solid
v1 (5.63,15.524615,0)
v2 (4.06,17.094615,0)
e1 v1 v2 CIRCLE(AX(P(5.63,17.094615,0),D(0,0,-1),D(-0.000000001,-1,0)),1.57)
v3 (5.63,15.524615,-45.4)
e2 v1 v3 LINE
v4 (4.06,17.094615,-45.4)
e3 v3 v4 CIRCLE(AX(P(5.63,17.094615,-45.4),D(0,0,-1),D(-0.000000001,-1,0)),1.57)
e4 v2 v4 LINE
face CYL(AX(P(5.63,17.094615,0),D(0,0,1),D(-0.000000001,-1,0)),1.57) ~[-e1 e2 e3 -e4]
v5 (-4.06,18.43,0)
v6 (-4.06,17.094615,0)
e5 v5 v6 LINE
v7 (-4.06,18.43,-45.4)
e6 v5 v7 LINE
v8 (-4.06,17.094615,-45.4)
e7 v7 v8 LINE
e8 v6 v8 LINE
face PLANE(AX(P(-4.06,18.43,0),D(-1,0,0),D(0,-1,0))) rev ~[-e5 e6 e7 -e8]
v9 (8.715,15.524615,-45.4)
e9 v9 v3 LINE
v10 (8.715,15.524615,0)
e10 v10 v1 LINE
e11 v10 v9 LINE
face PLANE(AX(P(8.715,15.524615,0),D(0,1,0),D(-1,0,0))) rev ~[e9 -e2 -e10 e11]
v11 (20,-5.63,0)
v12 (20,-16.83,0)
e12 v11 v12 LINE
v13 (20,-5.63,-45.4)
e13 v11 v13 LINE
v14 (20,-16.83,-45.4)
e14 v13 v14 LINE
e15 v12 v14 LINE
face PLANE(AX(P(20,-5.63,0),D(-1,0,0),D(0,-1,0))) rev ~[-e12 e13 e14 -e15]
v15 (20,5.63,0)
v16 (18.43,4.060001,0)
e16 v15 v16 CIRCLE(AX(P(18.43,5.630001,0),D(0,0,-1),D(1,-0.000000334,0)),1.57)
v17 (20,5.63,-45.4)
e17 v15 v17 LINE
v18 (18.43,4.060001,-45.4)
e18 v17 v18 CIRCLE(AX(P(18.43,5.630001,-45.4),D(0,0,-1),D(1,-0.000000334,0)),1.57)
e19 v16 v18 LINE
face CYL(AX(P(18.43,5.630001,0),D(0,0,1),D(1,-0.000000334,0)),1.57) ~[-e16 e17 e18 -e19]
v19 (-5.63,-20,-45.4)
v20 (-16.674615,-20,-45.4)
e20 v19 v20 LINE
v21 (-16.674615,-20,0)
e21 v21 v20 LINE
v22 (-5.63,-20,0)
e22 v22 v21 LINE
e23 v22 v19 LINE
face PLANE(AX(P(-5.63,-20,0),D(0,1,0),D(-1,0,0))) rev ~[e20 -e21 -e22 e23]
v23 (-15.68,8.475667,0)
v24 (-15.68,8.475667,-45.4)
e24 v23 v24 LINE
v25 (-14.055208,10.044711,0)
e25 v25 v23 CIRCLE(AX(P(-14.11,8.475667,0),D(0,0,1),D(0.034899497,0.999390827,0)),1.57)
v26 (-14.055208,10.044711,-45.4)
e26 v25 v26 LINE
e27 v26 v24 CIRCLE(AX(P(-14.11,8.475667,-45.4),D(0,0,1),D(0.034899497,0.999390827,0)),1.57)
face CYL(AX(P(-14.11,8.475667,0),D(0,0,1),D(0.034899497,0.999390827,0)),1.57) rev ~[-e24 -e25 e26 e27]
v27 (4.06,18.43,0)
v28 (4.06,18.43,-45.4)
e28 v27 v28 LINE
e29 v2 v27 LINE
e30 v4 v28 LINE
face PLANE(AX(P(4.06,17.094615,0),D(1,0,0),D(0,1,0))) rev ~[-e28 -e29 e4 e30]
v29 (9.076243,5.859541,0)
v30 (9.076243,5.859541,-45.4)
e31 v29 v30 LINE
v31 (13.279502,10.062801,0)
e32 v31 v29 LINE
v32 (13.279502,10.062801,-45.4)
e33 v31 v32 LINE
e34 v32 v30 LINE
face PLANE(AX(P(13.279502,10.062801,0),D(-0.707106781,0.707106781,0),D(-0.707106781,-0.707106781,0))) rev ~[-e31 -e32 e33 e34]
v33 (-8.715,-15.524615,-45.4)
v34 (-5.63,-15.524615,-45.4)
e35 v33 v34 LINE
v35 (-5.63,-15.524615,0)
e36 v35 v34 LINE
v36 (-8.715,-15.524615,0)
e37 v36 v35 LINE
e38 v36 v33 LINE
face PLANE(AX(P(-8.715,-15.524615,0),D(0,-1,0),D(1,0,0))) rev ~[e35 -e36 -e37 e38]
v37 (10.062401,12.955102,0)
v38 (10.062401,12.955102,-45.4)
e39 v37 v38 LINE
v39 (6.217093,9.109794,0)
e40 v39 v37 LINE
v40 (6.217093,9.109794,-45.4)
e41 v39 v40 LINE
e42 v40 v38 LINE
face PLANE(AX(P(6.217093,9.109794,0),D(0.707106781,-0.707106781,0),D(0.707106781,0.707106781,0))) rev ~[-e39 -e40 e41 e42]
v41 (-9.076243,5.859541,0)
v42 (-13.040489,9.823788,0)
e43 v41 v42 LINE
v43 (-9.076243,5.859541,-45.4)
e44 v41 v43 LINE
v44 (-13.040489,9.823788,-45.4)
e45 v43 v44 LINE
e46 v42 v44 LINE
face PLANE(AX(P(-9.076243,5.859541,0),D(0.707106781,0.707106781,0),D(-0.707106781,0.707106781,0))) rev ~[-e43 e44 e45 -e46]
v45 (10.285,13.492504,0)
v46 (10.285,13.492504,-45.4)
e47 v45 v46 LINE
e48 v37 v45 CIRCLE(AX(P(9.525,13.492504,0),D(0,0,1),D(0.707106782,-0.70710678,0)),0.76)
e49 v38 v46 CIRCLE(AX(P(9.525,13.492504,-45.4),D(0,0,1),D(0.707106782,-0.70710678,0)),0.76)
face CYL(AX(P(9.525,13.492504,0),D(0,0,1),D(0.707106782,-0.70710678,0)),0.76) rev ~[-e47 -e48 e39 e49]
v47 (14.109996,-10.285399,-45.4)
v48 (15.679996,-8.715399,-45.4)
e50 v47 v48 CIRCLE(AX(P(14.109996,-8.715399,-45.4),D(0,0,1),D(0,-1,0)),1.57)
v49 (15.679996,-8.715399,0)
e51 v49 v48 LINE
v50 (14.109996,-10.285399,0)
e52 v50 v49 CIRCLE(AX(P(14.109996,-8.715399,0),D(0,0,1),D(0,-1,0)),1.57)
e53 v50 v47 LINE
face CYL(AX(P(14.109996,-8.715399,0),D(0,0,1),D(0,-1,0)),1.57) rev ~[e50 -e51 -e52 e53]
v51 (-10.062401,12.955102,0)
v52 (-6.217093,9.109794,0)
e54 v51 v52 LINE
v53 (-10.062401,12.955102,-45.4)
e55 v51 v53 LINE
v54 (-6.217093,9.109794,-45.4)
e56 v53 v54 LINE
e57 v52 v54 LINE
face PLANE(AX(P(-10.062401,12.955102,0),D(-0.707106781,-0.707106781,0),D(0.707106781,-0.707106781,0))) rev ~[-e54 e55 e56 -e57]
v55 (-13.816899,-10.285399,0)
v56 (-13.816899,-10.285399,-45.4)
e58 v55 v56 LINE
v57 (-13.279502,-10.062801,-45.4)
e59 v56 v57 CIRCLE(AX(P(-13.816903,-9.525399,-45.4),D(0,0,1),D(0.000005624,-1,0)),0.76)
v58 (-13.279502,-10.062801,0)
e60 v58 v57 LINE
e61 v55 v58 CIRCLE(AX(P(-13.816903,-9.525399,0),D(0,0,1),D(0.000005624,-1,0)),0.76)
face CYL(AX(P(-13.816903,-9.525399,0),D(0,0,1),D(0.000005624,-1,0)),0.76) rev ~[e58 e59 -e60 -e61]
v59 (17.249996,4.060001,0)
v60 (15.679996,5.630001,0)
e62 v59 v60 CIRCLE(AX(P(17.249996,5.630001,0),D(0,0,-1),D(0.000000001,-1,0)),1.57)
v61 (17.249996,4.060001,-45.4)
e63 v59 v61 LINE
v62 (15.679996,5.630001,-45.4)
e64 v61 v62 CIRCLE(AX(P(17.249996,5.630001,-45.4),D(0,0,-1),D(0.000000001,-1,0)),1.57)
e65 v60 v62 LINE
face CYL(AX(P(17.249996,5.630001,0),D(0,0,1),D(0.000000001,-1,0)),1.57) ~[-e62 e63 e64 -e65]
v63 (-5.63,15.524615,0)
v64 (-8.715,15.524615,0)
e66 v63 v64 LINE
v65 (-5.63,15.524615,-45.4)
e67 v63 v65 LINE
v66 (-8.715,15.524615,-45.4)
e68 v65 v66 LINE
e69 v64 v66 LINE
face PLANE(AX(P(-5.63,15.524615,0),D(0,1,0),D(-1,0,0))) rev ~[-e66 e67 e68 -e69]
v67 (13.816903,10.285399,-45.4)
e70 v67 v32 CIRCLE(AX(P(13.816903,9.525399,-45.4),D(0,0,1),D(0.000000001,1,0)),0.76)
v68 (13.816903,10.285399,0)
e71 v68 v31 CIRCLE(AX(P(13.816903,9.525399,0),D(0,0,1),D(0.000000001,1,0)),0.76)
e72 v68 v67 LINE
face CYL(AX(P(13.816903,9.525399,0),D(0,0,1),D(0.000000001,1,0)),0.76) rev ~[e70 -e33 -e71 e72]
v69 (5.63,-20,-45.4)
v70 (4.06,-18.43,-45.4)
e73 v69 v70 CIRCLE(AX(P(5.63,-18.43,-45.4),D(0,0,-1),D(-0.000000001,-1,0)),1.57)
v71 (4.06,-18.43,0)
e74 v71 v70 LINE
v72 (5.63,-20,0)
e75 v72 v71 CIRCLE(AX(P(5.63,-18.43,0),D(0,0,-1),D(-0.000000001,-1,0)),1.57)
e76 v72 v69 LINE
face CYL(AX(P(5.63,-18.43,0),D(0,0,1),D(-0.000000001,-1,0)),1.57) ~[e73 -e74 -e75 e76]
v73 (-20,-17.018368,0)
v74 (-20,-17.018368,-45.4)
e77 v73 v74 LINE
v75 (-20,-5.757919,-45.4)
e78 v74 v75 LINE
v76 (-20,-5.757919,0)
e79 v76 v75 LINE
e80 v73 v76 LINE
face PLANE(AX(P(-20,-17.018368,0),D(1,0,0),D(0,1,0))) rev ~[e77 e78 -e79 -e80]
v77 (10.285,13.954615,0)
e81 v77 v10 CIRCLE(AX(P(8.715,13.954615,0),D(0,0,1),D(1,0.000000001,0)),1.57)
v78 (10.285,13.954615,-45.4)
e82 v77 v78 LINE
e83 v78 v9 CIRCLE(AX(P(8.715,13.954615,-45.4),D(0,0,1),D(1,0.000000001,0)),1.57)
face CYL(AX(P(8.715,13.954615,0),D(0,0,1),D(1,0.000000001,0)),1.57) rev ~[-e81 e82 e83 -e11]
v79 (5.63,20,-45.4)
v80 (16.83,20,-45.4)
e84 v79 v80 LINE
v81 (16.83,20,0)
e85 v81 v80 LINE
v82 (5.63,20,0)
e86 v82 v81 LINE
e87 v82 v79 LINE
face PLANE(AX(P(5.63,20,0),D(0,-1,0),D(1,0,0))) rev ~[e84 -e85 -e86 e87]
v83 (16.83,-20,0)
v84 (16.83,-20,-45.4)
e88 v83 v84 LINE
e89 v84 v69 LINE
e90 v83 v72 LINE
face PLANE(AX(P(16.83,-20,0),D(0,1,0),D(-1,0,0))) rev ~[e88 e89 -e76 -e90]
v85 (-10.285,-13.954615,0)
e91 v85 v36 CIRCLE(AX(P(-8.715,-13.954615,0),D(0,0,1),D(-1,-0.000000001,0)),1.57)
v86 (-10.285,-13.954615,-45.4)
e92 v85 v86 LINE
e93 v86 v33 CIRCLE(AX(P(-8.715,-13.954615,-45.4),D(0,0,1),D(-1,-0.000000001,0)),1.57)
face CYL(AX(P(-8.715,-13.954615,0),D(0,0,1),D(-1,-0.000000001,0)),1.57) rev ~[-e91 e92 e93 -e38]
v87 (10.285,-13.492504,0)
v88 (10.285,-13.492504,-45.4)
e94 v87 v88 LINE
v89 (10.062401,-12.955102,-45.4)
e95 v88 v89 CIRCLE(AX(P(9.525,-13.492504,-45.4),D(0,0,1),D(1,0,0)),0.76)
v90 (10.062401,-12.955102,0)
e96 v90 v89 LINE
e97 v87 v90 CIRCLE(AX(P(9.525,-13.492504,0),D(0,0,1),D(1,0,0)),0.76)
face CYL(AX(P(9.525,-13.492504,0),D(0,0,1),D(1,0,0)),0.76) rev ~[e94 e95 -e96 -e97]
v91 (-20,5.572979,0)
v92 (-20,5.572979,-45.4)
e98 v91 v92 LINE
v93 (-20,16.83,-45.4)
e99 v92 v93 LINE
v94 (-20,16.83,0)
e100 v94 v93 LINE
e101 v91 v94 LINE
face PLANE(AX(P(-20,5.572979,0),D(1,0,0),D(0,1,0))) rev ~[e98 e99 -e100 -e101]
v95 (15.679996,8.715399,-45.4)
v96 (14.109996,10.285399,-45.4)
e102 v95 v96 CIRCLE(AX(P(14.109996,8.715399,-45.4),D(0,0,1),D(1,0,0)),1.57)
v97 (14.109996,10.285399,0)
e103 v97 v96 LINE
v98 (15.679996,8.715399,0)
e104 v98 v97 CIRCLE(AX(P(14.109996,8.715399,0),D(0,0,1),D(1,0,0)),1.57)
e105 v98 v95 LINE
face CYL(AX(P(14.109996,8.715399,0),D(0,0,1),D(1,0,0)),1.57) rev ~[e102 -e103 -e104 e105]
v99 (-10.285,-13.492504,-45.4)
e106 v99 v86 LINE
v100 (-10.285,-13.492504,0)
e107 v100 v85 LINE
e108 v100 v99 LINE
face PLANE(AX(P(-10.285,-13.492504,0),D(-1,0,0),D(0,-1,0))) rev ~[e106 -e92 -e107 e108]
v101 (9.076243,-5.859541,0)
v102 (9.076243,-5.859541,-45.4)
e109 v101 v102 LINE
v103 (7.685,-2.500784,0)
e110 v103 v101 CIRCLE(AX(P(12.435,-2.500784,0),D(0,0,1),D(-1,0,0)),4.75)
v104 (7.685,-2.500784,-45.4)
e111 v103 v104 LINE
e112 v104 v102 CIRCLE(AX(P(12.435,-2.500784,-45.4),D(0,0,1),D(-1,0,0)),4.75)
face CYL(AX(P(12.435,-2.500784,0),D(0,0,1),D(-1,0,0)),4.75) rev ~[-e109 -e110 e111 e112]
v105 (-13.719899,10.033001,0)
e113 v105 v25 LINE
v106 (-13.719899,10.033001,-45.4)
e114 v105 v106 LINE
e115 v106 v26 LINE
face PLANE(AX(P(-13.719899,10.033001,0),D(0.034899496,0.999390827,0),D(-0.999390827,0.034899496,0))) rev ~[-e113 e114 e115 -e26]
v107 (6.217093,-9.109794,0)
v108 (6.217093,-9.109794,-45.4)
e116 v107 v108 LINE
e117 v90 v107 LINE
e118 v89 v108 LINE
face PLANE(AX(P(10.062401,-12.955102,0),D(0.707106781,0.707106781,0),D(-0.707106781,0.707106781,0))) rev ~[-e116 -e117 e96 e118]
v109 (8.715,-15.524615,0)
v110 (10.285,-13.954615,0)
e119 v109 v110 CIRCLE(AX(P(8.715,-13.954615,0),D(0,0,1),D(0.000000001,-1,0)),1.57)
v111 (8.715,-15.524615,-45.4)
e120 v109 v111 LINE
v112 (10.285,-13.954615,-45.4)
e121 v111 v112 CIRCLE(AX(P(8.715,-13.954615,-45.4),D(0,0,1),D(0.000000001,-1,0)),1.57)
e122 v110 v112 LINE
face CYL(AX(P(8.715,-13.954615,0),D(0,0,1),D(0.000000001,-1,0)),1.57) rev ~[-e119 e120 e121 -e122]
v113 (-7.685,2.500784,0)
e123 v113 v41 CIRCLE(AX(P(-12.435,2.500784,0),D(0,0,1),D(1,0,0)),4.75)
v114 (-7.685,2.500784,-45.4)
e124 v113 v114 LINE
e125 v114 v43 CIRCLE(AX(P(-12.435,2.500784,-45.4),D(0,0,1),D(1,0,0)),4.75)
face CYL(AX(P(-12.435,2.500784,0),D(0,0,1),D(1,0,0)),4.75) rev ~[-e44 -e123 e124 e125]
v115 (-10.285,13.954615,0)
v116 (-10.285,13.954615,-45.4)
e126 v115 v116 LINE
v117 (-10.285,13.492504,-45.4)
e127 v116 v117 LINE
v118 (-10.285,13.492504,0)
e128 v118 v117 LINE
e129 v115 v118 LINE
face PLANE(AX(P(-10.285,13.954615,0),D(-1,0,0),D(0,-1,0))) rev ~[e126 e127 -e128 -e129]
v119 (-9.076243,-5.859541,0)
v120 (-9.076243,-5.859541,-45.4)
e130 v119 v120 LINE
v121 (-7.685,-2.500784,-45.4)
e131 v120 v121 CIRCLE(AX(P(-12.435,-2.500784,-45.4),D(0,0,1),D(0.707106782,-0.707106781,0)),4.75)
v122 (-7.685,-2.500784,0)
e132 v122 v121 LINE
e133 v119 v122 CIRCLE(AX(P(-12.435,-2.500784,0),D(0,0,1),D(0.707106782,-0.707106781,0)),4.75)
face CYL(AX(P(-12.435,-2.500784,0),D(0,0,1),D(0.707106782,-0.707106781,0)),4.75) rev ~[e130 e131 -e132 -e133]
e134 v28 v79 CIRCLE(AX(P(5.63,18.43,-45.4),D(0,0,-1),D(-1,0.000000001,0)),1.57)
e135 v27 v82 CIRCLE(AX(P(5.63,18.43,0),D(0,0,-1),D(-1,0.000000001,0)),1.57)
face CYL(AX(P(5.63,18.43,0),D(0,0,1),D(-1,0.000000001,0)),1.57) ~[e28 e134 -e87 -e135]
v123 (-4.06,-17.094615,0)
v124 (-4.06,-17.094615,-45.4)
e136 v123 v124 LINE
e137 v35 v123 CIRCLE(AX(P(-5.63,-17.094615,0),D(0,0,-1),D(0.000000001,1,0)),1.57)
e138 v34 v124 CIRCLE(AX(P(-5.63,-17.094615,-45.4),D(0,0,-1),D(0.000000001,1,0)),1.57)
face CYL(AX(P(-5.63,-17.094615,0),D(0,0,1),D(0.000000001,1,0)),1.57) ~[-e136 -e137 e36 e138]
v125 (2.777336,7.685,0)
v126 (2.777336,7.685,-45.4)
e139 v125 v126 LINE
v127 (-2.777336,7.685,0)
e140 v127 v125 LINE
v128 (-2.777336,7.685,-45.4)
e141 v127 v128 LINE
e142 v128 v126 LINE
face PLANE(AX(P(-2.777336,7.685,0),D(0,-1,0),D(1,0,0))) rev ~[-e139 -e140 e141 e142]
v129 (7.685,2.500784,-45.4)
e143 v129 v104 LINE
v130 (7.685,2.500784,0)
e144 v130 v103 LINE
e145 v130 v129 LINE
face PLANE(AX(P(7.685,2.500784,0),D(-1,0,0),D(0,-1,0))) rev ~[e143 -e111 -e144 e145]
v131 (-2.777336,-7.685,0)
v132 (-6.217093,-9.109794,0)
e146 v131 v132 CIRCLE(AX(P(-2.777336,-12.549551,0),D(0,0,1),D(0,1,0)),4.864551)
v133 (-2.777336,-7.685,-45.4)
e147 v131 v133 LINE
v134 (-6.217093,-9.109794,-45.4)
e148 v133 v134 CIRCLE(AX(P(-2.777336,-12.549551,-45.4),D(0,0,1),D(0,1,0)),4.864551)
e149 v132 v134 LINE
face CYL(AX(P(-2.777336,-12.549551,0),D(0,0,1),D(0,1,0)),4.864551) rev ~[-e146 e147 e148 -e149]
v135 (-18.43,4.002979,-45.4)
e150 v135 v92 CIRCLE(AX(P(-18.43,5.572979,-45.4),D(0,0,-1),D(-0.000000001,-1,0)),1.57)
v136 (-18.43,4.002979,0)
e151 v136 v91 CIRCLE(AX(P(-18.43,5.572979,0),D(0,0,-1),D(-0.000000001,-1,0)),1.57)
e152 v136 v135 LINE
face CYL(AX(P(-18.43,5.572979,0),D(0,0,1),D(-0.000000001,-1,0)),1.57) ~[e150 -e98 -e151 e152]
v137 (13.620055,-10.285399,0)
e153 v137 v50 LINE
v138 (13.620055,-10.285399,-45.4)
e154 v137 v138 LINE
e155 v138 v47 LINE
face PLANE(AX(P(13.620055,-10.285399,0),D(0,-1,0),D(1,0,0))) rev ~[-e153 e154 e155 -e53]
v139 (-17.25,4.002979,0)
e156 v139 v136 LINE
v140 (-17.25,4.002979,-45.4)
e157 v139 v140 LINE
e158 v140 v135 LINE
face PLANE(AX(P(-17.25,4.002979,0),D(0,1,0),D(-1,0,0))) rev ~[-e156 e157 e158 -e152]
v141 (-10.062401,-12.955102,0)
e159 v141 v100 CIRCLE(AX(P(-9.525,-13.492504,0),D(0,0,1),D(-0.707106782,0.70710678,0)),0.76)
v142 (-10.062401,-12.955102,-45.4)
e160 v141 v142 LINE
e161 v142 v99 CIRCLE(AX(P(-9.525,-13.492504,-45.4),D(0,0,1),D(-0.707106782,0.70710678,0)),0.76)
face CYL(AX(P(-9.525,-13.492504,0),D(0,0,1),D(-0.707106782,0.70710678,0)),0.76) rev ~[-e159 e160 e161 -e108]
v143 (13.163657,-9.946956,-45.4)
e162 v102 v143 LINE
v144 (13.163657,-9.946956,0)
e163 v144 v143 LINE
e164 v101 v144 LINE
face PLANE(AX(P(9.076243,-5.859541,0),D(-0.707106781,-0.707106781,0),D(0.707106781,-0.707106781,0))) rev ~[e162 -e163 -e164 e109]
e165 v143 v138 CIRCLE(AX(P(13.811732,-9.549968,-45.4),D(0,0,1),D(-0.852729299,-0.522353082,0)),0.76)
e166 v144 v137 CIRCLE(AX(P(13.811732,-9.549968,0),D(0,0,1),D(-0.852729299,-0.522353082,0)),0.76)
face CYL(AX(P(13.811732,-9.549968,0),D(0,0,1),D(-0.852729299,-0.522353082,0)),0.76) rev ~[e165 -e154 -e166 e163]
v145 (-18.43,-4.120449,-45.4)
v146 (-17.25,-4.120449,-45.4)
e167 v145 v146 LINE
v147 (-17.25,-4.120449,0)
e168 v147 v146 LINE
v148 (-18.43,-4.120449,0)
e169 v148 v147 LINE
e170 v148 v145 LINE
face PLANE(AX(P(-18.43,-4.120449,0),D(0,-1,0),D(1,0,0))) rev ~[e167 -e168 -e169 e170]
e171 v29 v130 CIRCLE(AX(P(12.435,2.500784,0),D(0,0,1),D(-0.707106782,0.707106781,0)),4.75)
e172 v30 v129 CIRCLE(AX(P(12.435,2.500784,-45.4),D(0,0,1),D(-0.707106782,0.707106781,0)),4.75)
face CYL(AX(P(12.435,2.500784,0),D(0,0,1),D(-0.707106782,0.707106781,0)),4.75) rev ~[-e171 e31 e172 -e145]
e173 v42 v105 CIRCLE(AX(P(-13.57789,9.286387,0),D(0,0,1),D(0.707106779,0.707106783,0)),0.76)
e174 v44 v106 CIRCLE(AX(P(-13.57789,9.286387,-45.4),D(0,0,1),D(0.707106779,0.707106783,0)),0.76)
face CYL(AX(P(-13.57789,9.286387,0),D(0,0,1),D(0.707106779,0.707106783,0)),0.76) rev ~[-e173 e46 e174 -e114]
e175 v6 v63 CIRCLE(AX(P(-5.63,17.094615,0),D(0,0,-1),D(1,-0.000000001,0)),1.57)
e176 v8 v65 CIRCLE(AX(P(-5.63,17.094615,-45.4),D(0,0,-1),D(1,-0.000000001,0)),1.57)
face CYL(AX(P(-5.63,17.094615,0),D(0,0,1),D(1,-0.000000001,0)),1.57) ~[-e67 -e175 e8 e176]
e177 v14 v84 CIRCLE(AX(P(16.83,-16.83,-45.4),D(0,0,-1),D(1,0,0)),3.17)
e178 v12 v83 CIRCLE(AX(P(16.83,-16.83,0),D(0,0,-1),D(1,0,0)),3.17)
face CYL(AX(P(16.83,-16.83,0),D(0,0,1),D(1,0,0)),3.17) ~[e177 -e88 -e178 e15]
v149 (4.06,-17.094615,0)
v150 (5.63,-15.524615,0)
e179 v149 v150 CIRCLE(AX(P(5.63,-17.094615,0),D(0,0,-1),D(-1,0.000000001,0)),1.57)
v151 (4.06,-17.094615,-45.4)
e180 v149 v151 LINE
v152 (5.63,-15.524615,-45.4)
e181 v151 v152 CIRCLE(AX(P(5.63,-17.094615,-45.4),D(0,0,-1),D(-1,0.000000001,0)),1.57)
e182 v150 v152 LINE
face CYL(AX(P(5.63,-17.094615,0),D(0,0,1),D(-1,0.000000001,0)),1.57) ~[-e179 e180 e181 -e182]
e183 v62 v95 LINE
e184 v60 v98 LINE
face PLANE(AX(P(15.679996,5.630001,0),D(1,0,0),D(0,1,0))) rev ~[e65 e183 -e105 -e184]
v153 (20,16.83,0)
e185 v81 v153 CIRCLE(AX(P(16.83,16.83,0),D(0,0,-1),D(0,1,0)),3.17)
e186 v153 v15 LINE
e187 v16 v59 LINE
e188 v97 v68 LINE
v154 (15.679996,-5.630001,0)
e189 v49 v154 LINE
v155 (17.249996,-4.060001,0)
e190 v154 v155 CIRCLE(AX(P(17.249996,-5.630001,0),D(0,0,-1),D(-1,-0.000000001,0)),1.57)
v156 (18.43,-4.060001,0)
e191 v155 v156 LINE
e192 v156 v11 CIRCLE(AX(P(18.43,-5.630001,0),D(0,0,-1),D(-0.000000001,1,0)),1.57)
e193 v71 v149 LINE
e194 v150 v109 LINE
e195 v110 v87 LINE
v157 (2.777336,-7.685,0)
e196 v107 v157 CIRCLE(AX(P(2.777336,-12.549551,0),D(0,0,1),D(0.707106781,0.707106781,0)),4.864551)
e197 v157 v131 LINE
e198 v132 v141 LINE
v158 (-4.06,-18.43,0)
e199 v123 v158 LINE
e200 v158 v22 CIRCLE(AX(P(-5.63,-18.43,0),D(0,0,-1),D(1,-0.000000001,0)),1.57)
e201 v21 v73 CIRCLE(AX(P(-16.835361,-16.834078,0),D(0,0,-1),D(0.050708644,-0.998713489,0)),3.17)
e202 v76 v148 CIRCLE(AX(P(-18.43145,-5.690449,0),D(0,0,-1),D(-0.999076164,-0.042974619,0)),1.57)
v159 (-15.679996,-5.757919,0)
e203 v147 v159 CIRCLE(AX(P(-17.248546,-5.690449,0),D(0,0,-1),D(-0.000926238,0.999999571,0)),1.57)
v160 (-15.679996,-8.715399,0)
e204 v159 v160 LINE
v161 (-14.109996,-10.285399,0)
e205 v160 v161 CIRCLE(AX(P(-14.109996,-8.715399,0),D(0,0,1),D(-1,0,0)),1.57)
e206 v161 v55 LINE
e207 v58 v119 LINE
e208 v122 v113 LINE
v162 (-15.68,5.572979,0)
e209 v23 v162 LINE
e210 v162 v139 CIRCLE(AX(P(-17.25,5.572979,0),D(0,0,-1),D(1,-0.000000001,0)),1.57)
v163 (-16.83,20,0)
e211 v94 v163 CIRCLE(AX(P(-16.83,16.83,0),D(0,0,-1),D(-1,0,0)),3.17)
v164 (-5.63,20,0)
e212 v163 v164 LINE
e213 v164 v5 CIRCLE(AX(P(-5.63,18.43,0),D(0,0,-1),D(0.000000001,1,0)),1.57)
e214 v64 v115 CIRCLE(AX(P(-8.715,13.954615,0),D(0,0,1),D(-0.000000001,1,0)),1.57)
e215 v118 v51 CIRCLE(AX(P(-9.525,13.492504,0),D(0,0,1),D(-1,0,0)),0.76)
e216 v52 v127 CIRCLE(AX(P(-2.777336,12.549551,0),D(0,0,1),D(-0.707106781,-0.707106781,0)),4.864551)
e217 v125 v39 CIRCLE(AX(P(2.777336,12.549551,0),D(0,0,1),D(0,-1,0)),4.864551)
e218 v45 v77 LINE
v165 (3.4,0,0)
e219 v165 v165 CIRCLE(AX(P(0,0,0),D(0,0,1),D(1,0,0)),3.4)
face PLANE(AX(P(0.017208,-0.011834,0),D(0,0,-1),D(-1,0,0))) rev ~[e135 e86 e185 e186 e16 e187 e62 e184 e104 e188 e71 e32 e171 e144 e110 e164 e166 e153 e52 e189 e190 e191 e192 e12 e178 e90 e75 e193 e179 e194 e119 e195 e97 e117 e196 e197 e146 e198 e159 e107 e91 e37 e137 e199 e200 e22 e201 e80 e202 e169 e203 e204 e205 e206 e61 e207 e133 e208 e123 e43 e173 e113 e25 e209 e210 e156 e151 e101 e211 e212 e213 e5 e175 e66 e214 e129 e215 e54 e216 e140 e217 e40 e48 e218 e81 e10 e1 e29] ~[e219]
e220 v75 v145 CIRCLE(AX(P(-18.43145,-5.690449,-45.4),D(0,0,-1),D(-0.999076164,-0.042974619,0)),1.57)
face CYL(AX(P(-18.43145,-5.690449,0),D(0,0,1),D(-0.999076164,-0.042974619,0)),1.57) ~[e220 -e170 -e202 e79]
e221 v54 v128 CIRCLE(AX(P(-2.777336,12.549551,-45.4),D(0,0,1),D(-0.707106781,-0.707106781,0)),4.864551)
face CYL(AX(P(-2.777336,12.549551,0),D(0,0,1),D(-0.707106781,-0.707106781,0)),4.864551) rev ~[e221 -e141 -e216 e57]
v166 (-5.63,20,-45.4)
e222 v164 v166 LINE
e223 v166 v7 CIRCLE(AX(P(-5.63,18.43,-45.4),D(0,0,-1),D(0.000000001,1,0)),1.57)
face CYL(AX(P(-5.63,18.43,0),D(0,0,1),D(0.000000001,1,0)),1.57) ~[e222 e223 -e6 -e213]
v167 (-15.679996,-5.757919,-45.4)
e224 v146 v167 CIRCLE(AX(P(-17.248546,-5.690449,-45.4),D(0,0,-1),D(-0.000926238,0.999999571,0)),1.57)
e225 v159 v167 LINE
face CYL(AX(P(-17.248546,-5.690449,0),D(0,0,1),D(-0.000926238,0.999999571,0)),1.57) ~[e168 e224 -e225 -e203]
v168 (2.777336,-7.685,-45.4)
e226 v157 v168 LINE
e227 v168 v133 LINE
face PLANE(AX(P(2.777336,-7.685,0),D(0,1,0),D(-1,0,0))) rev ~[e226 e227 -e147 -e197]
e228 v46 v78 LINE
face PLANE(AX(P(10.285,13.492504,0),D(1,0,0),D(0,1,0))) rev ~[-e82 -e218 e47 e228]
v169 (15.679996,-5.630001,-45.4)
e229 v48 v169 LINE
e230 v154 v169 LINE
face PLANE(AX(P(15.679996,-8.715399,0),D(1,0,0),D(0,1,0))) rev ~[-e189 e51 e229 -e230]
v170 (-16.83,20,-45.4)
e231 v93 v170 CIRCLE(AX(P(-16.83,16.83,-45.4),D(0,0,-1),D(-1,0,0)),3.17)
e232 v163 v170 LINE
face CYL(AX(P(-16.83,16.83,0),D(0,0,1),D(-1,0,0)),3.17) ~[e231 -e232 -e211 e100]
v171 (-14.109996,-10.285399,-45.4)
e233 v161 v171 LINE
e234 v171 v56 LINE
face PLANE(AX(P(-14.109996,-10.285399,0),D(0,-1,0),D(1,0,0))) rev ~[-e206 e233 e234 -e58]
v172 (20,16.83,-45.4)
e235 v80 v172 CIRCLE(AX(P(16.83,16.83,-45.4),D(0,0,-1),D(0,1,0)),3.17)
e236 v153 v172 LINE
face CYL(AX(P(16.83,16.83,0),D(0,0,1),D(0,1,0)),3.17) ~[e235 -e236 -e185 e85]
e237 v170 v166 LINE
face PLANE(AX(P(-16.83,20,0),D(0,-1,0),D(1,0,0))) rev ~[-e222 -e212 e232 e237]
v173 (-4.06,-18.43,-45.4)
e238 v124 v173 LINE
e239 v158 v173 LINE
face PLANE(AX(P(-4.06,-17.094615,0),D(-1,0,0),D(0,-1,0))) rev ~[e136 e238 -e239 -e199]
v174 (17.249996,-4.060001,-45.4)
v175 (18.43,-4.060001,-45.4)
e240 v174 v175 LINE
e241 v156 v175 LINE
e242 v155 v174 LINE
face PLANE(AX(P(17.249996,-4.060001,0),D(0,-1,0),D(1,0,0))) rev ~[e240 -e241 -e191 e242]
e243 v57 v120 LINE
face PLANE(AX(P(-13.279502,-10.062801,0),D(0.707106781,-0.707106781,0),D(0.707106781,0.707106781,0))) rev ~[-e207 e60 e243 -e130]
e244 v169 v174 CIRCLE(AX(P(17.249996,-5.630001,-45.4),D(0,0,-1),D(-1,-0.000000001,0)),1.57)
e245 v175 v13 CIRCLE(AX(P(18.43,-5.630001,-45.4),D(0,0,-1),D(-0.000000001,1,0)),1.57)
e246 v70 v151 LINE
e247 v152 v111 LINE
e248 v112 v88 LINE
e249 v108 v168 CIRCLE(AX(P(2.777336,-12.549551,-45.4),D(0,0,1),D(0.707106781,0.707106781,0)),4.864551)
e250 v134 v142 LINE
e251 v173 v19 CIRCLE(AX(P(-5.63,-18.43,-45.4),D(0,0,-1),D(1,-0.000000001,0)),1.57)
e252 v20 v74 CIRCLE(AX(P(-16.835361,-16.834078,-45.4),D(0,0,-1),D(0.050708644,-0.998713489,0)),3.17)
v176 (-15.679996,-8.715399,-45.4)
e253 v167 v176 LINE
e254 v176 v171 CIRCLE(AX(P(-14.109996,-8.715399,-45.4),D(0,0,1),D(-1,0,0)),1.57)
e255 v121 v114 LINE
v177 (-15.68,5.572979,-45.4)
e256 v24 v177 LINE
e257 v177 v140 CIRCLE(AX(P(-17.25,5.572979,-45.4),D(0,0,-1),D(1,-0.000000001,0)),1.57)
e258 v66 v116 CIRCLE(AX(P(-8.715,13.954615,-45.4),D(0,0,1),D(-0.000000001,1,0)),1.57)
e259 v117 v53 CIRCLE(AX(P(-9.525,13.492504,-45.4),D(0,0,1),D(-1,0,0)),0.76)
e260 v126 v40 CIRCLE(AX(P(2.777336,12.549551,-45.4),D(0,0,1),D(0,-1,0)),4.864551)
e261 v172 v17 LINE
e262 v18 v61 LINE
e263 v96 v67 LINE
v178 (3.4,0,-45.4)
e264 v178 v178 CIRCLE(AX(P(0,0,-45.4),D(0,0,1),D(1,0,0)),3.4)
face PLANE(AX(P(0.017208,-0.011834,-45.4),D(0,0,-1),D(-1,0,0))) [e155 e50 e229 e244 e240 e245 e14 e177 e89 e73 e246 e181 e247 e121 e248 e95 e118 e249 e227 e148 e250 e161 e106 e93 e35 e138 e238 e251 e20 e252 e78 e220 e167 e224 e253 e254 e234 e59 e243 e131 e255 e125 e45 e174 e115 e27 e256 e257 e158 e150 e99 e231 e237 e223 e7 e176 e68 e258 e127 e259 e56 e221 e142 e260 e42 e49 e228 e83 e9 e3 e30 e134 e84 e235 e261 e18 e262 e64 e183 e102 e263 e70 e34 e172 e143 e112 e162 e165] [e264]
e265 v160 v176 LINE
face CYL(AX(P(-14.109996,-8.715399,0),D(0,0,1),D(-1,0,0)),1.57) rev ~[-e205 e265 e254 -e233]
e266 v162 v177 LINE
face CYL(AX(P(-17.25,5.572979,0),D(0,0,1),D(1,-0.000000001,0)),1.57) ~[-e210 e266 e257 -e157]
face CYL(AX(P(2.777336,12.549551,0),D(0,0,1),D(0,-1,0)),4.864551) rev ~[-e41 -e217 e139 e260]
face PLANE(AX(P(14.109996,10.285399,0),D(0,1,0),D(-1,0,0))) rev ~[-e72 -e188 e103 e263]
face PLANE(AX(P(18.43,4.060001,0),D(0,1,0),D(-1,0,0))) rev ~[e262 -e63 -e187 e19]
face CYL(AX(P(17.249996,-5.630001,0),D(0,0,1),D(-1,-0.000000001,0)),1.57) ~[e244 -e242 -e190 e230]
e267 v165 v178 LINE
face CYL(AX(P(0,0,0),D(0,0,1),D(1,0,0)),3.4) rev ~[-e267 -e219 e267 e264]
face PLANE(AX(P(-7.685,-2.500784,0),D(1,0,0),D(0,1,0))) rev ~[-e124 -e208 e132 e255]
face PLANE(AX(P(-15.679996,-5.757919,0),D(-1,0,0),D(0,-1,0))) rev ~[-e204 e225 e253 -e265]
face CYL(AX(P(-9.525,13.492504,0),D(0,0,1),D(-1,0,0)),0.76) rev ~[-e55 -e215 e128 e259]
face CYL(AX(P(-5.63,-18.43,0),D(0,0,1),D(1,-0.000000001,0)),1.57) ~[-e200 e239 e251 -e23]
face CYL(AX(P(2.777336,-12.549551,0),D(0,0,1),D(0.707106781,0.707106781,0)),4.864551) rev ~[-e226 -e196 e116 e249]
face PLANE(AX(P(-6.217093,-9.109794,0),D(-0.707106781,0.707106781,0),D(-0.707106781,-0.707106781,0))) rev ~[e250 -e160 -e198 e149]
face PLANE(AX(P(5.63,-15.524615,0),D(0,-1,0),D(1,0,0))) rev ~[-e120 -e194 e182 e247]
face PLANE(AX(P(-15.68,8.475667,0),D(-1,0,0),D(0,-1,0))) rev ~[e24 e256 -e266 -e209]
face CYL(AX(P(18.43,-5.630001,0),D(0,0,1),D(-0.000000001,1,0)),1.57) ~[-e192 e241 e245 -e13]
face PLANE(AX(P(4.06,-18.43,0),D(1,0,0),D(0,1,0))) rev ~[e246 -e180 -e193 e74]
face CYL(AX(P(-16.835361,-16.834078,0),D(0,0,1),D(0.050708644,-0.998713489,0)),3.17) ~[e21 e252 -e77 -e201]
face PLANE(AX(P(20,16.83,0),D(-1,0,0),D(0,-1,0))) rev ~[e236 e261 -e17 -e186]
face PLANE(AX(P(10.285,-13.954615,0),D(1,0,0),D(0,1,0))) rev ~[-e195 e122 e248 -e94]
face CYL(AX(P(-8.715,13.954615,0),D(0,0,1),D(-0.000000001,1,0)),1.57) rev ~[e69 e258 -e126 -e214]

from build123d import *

# Parameters (mm, degrees)
SKETCH1_R      = 3.4
EXTRUDE1_DEPTH = 45.4


with BuildPart() as part:
    # Sketch1 → Extrude1 (new body)
    with BuildSketch(Plane.XY):
        with BuildLine():
            Line((-8.715, -15.524615034), (-5.63, -15.524615034))
            ThreePointArc((-5.63, -15.524615034), (-4.519842354, -15.984457388), (-4.06, -17.094615034))
            Line((-4.06, -17.094615034), (-4.06, -18.43))
            ThreePointArc((-4.06, -18.43), (-4.519842354, -19.540157646), (-5.63, -20))
            Line((-5.63, -20), (-16.674615034, -20))
            ThreePointArc((-16.674615034, -20), (-18.951578385, -19.194274381), (-20, -17.018368134))
            Line((-20, -17.018368134), (-20, -5.757918808))
            ThreePointArc((-20, -5.757918808), (-19.564709668, -4.603883664), (-18.43, -4.120449326))
            Line((-18.43, -4.120449326), (-17.25, -4.120449326))
            ThreePointArc((-17.25, -4.120449326), (-16.115287682, -4.60388249), (-15.67999625, -5.757919334))
            Line((-15.67999625, -5.757919334), (-15.67999625, -8.715399492))
            ThreePointArc((-15.67999625, -8.715399492), (-15.220153896, -9.825557139), (-14.10999625, -10.285399492))
            Line((-14.10999625, -10.285399492), (-13.816898819, -10.285399492))
            ThreePointArc((-13.816898819, -10.285399492), (-13.526061711, -10.227547119), (-13.279501941, -10.062800646))
            Line((-13.279501941, -10.062800646), (-9.076242789, -5.859541495))
            ThreePointArc((-9.076242789, -5.859541495), (-8.046572221, -4.318530588), (-7.685, -2.500784284))
            Line((-7.685, -2.500784284), (-7.685, 2.500784284))
            ThreePointArc((-7.685, 2.500784284), (-8.046572221, 4.318530588), (-9.076242789, 5.859541495))
            Line((-9.076242789, 5.859541495), (-13.040489136, 9.823787841))
            ThreePointArc((-13.040489136, 9.823787841), (-13.354224618, 10.012729352), (-13.71989919, 10.033001362))
            Line((-13.71989919, 10.033001362), (-14.05520779, 10.044710596))
            ThreePointArc((-14.05520779, 10.044710596), (-15.200613642, 9.605030484), (-15.68, 8.475666998))
            Line((-15.68, 8.475666998), (-15.68, 5.572979049))
            ThreePointArc((-15.68, 5.572979049), (-16.139842354, 4.462821403), (-17.25, 4.002979049))
            Line((-17.25, 4.002979049), (-18.43, 4.002979049))
            ThreePointArc((-18.43, 4.002979049), (-19.540157646, 4.462821403), (-20, 5.572979049))
            Line((-20, 5.572979049), (-20, 13.004526564))
            Line((-20, 13.004526564), (-20, 16.83))
            ThreePointArc((-20, 16.83), (-19.071528496, 19.071528496), (-16.83, 20))
            Line((-16.83, 20), (-5.63, 20))
            ThreePointArc((-5.63, 20), (-4.519842354, 19.540157646), (-4.06, 18.43))
            Line((-4.06, 18.43), (-4.06, 17.094615034))
            ThreePointArc((-4.06, 17.094615034), (-4.519842354, 15.984457388), (-5.63, 15.524615034))
            Line((-5.63, 15.524615034), (-8.715, 15.524615034))
            ThreePointArc((-8.715, 15.524615034), (-9.825157646, 15.06477268), (-10.285, 13.954615034))
            Line((-10.285, 13.954615034), (-10.285, 13.492503602))
            ThreePointArc((-10.285, 13.492503602), (-10.227148445, 13.201664194), (-10.062401154, 12.955102448))
            Line((-10.062401154, 12.955102448), (-6.217092793, 9.109794088))
            ThreePointArc((-6.217092793, 9.109794088), (-4.63891877, 8.055291919), (-2.777335583, 7.685))
            Line((-2.777335583, 7.685), (2.777335583, 7.685))
            ThreePointArc((2.777335583, 7.685), (4.63891877, 8.055291919), (6.217092793, 9.109794088))
            Line((6.217092793, 9.109794088), (10.062401154, 12.955102448))
            ThreePointArc((10.062401154, 12.955102448), (10.227148445, 13.201664194), (10.285, 13.492503602))
            Line((10.285, 13.492503602), (10.285, 13.954615034))
            ThreePointArc((10.285, 13.954615034), (9.825157646, 15.06477268), (8.715, 15.524615034))
            Line((8.715, 15.524615034), (5.63, 15.524615034))
            ThreePointArc((5.63, 15.524615034), (4.519842354, 15.984457388), (4.06, 17.094615034))
            Line((4.06, 17.094615034), (4.06, 18.43))
            ThreePointArc((4.06, 18.43), (4.519842354, 19.540157646), (5.63, 20))
            Line((5.63, 20), (12.979635074, 20))
            Line((12.979635074, 20), (16.83, 20))
            ThreePointArc((16.83, 20), (19.071528496, 19.071528496), (20, 16.83))
            Line((20, 16.83), (20, 13.001098436))
            Line((20, 13.001098436), (20, 5.63))
            ThreePointArc((20, 5.63), (19.540157461, 4.519842693), (18.43, 4.060000526))
            Line((18.43, 4.060000526), (17.24999625, 4.060000526))
            ThreePointArc((17.24999625, 4.060000526), (16.139838603, 4.519842879), (15.67999625, 5.630000526))
            Line((15.67999625, 5.630000526), (15.67999625, 8.715399492))
            ThreePointArc((15.67999625, 8.715399492), (15.220153896, 9.825557139), (14.10999625, 10.285399492))
            Line((14.10999625, 10.285399492), (13.816903094, 10.285399492))
            ThreePointArc((13.816903094, 10.285399492), (13.526063686, 10.227547937), (13.279501941, 10.062800646))
            Line((13.279501941, 10.062800646), (9.076242789, 5.859541495))
            ThreePointArc((9.076242789, 5.859541495), (8.046572221, 4.318530588), (7.685, 2.500784284))
            Line((7.685, 2.500784284), (7.685, -2.500784284))
            ThreePointArc((7.685, -2.500784284), (8.046572221, -4.318530588), (9.076242789, -5.859541495))
            Line((9.076242789, -5.859541495), (13.163657296, -9.946956002))
            ThreePointArc((13.163657296, -9.946956002), (13.35903797, -10.160433474), (13.6200547, -10.285399492))
            Line((13.6200547, -10.285399492), (14.10999625, -10.285399492))
            ThreePointArc((14.10999625, -10.285399492), (15.220153896, -9.825557139), (15.67999625, -8.715399492))
            Line((15.67999625, -8.715399492), (15.67999625, -5.630000526))
            ThreePointArc((15.67999625, -5.630000526), (16.139838603, -4.519842879), (17.24999625, -4.060000526))
            Line((17.24999625, -4.060000526), (18.43, -4.060000526))
            ThreePointArc((18.43, -4.060000526), (19.540157461, -4.519842693), (20, -5.63))
            Line((20, -5.63), (20, -16.83))
            ThreePointArc((20, -16.83), (19.071528496, -19.071528496), (16.83, -20))
            Line((16.83, -20), (13, -20))
            Line((13, -20), (5.63, -20))
            ThreePointArc((5.63, -20), (4.519842354, -19.540157646), (4.06, -18.43))
            Line((4.06, -18.43), (4.06, -17.094615034))
            ThreePointArc((4.06, -17.094615034), (4.519842354, -15.984457388), (5.63, -15.524615034))
            Line((5.63, -15.524615034), (8.715, -15.524615034))
            ThreePointArc((8.715, -15.524615034), (9.825157646, -15.06477268), (10.285, -13.954615034))
            Line((10.285, -13.954615034), (10.285, -13.492503602))
            ThreePointArc((10.285, -13.492503602), (10.227148445, -13.201664194), (10.062401154, -12.955102448))
            Line((10.062401154, -12.955102448), (6.217092793, -9.109794088))
            ThreePointArc((6.217092793, -9.109794088), (4.63891877, -8.055291919), (2.777335583, -7.685))
            Line((2.777335583, -7.685), (-2.777335583, -7.685))
            ThreePointArc((-2.777335583, -7.685), (-4.63891877, -8.055291919), (-6.217092793, -9.109794088))
            Line((-6.217092793, -9.109794088), (-10.062401154, -12.955102448))
            ThreePointArc((-10.062401154, -12.955102448), (-10.227148445, -13.201664194), (-10.285, -13.492503602))
            Line((-10.285, -13.492503602), (-10.285, -13.954615034))
            ThreePointArc((-10.285, -13.954615034), (-9.825157646, -15.06477268), (-8.715, -15.524615034))
        make_face()
        Circle(SKETCH1_R, mode=Mode.SUBTRACT)
    extrude(amount=-EXTRUDE1_DEPTH)


solid = part.part
